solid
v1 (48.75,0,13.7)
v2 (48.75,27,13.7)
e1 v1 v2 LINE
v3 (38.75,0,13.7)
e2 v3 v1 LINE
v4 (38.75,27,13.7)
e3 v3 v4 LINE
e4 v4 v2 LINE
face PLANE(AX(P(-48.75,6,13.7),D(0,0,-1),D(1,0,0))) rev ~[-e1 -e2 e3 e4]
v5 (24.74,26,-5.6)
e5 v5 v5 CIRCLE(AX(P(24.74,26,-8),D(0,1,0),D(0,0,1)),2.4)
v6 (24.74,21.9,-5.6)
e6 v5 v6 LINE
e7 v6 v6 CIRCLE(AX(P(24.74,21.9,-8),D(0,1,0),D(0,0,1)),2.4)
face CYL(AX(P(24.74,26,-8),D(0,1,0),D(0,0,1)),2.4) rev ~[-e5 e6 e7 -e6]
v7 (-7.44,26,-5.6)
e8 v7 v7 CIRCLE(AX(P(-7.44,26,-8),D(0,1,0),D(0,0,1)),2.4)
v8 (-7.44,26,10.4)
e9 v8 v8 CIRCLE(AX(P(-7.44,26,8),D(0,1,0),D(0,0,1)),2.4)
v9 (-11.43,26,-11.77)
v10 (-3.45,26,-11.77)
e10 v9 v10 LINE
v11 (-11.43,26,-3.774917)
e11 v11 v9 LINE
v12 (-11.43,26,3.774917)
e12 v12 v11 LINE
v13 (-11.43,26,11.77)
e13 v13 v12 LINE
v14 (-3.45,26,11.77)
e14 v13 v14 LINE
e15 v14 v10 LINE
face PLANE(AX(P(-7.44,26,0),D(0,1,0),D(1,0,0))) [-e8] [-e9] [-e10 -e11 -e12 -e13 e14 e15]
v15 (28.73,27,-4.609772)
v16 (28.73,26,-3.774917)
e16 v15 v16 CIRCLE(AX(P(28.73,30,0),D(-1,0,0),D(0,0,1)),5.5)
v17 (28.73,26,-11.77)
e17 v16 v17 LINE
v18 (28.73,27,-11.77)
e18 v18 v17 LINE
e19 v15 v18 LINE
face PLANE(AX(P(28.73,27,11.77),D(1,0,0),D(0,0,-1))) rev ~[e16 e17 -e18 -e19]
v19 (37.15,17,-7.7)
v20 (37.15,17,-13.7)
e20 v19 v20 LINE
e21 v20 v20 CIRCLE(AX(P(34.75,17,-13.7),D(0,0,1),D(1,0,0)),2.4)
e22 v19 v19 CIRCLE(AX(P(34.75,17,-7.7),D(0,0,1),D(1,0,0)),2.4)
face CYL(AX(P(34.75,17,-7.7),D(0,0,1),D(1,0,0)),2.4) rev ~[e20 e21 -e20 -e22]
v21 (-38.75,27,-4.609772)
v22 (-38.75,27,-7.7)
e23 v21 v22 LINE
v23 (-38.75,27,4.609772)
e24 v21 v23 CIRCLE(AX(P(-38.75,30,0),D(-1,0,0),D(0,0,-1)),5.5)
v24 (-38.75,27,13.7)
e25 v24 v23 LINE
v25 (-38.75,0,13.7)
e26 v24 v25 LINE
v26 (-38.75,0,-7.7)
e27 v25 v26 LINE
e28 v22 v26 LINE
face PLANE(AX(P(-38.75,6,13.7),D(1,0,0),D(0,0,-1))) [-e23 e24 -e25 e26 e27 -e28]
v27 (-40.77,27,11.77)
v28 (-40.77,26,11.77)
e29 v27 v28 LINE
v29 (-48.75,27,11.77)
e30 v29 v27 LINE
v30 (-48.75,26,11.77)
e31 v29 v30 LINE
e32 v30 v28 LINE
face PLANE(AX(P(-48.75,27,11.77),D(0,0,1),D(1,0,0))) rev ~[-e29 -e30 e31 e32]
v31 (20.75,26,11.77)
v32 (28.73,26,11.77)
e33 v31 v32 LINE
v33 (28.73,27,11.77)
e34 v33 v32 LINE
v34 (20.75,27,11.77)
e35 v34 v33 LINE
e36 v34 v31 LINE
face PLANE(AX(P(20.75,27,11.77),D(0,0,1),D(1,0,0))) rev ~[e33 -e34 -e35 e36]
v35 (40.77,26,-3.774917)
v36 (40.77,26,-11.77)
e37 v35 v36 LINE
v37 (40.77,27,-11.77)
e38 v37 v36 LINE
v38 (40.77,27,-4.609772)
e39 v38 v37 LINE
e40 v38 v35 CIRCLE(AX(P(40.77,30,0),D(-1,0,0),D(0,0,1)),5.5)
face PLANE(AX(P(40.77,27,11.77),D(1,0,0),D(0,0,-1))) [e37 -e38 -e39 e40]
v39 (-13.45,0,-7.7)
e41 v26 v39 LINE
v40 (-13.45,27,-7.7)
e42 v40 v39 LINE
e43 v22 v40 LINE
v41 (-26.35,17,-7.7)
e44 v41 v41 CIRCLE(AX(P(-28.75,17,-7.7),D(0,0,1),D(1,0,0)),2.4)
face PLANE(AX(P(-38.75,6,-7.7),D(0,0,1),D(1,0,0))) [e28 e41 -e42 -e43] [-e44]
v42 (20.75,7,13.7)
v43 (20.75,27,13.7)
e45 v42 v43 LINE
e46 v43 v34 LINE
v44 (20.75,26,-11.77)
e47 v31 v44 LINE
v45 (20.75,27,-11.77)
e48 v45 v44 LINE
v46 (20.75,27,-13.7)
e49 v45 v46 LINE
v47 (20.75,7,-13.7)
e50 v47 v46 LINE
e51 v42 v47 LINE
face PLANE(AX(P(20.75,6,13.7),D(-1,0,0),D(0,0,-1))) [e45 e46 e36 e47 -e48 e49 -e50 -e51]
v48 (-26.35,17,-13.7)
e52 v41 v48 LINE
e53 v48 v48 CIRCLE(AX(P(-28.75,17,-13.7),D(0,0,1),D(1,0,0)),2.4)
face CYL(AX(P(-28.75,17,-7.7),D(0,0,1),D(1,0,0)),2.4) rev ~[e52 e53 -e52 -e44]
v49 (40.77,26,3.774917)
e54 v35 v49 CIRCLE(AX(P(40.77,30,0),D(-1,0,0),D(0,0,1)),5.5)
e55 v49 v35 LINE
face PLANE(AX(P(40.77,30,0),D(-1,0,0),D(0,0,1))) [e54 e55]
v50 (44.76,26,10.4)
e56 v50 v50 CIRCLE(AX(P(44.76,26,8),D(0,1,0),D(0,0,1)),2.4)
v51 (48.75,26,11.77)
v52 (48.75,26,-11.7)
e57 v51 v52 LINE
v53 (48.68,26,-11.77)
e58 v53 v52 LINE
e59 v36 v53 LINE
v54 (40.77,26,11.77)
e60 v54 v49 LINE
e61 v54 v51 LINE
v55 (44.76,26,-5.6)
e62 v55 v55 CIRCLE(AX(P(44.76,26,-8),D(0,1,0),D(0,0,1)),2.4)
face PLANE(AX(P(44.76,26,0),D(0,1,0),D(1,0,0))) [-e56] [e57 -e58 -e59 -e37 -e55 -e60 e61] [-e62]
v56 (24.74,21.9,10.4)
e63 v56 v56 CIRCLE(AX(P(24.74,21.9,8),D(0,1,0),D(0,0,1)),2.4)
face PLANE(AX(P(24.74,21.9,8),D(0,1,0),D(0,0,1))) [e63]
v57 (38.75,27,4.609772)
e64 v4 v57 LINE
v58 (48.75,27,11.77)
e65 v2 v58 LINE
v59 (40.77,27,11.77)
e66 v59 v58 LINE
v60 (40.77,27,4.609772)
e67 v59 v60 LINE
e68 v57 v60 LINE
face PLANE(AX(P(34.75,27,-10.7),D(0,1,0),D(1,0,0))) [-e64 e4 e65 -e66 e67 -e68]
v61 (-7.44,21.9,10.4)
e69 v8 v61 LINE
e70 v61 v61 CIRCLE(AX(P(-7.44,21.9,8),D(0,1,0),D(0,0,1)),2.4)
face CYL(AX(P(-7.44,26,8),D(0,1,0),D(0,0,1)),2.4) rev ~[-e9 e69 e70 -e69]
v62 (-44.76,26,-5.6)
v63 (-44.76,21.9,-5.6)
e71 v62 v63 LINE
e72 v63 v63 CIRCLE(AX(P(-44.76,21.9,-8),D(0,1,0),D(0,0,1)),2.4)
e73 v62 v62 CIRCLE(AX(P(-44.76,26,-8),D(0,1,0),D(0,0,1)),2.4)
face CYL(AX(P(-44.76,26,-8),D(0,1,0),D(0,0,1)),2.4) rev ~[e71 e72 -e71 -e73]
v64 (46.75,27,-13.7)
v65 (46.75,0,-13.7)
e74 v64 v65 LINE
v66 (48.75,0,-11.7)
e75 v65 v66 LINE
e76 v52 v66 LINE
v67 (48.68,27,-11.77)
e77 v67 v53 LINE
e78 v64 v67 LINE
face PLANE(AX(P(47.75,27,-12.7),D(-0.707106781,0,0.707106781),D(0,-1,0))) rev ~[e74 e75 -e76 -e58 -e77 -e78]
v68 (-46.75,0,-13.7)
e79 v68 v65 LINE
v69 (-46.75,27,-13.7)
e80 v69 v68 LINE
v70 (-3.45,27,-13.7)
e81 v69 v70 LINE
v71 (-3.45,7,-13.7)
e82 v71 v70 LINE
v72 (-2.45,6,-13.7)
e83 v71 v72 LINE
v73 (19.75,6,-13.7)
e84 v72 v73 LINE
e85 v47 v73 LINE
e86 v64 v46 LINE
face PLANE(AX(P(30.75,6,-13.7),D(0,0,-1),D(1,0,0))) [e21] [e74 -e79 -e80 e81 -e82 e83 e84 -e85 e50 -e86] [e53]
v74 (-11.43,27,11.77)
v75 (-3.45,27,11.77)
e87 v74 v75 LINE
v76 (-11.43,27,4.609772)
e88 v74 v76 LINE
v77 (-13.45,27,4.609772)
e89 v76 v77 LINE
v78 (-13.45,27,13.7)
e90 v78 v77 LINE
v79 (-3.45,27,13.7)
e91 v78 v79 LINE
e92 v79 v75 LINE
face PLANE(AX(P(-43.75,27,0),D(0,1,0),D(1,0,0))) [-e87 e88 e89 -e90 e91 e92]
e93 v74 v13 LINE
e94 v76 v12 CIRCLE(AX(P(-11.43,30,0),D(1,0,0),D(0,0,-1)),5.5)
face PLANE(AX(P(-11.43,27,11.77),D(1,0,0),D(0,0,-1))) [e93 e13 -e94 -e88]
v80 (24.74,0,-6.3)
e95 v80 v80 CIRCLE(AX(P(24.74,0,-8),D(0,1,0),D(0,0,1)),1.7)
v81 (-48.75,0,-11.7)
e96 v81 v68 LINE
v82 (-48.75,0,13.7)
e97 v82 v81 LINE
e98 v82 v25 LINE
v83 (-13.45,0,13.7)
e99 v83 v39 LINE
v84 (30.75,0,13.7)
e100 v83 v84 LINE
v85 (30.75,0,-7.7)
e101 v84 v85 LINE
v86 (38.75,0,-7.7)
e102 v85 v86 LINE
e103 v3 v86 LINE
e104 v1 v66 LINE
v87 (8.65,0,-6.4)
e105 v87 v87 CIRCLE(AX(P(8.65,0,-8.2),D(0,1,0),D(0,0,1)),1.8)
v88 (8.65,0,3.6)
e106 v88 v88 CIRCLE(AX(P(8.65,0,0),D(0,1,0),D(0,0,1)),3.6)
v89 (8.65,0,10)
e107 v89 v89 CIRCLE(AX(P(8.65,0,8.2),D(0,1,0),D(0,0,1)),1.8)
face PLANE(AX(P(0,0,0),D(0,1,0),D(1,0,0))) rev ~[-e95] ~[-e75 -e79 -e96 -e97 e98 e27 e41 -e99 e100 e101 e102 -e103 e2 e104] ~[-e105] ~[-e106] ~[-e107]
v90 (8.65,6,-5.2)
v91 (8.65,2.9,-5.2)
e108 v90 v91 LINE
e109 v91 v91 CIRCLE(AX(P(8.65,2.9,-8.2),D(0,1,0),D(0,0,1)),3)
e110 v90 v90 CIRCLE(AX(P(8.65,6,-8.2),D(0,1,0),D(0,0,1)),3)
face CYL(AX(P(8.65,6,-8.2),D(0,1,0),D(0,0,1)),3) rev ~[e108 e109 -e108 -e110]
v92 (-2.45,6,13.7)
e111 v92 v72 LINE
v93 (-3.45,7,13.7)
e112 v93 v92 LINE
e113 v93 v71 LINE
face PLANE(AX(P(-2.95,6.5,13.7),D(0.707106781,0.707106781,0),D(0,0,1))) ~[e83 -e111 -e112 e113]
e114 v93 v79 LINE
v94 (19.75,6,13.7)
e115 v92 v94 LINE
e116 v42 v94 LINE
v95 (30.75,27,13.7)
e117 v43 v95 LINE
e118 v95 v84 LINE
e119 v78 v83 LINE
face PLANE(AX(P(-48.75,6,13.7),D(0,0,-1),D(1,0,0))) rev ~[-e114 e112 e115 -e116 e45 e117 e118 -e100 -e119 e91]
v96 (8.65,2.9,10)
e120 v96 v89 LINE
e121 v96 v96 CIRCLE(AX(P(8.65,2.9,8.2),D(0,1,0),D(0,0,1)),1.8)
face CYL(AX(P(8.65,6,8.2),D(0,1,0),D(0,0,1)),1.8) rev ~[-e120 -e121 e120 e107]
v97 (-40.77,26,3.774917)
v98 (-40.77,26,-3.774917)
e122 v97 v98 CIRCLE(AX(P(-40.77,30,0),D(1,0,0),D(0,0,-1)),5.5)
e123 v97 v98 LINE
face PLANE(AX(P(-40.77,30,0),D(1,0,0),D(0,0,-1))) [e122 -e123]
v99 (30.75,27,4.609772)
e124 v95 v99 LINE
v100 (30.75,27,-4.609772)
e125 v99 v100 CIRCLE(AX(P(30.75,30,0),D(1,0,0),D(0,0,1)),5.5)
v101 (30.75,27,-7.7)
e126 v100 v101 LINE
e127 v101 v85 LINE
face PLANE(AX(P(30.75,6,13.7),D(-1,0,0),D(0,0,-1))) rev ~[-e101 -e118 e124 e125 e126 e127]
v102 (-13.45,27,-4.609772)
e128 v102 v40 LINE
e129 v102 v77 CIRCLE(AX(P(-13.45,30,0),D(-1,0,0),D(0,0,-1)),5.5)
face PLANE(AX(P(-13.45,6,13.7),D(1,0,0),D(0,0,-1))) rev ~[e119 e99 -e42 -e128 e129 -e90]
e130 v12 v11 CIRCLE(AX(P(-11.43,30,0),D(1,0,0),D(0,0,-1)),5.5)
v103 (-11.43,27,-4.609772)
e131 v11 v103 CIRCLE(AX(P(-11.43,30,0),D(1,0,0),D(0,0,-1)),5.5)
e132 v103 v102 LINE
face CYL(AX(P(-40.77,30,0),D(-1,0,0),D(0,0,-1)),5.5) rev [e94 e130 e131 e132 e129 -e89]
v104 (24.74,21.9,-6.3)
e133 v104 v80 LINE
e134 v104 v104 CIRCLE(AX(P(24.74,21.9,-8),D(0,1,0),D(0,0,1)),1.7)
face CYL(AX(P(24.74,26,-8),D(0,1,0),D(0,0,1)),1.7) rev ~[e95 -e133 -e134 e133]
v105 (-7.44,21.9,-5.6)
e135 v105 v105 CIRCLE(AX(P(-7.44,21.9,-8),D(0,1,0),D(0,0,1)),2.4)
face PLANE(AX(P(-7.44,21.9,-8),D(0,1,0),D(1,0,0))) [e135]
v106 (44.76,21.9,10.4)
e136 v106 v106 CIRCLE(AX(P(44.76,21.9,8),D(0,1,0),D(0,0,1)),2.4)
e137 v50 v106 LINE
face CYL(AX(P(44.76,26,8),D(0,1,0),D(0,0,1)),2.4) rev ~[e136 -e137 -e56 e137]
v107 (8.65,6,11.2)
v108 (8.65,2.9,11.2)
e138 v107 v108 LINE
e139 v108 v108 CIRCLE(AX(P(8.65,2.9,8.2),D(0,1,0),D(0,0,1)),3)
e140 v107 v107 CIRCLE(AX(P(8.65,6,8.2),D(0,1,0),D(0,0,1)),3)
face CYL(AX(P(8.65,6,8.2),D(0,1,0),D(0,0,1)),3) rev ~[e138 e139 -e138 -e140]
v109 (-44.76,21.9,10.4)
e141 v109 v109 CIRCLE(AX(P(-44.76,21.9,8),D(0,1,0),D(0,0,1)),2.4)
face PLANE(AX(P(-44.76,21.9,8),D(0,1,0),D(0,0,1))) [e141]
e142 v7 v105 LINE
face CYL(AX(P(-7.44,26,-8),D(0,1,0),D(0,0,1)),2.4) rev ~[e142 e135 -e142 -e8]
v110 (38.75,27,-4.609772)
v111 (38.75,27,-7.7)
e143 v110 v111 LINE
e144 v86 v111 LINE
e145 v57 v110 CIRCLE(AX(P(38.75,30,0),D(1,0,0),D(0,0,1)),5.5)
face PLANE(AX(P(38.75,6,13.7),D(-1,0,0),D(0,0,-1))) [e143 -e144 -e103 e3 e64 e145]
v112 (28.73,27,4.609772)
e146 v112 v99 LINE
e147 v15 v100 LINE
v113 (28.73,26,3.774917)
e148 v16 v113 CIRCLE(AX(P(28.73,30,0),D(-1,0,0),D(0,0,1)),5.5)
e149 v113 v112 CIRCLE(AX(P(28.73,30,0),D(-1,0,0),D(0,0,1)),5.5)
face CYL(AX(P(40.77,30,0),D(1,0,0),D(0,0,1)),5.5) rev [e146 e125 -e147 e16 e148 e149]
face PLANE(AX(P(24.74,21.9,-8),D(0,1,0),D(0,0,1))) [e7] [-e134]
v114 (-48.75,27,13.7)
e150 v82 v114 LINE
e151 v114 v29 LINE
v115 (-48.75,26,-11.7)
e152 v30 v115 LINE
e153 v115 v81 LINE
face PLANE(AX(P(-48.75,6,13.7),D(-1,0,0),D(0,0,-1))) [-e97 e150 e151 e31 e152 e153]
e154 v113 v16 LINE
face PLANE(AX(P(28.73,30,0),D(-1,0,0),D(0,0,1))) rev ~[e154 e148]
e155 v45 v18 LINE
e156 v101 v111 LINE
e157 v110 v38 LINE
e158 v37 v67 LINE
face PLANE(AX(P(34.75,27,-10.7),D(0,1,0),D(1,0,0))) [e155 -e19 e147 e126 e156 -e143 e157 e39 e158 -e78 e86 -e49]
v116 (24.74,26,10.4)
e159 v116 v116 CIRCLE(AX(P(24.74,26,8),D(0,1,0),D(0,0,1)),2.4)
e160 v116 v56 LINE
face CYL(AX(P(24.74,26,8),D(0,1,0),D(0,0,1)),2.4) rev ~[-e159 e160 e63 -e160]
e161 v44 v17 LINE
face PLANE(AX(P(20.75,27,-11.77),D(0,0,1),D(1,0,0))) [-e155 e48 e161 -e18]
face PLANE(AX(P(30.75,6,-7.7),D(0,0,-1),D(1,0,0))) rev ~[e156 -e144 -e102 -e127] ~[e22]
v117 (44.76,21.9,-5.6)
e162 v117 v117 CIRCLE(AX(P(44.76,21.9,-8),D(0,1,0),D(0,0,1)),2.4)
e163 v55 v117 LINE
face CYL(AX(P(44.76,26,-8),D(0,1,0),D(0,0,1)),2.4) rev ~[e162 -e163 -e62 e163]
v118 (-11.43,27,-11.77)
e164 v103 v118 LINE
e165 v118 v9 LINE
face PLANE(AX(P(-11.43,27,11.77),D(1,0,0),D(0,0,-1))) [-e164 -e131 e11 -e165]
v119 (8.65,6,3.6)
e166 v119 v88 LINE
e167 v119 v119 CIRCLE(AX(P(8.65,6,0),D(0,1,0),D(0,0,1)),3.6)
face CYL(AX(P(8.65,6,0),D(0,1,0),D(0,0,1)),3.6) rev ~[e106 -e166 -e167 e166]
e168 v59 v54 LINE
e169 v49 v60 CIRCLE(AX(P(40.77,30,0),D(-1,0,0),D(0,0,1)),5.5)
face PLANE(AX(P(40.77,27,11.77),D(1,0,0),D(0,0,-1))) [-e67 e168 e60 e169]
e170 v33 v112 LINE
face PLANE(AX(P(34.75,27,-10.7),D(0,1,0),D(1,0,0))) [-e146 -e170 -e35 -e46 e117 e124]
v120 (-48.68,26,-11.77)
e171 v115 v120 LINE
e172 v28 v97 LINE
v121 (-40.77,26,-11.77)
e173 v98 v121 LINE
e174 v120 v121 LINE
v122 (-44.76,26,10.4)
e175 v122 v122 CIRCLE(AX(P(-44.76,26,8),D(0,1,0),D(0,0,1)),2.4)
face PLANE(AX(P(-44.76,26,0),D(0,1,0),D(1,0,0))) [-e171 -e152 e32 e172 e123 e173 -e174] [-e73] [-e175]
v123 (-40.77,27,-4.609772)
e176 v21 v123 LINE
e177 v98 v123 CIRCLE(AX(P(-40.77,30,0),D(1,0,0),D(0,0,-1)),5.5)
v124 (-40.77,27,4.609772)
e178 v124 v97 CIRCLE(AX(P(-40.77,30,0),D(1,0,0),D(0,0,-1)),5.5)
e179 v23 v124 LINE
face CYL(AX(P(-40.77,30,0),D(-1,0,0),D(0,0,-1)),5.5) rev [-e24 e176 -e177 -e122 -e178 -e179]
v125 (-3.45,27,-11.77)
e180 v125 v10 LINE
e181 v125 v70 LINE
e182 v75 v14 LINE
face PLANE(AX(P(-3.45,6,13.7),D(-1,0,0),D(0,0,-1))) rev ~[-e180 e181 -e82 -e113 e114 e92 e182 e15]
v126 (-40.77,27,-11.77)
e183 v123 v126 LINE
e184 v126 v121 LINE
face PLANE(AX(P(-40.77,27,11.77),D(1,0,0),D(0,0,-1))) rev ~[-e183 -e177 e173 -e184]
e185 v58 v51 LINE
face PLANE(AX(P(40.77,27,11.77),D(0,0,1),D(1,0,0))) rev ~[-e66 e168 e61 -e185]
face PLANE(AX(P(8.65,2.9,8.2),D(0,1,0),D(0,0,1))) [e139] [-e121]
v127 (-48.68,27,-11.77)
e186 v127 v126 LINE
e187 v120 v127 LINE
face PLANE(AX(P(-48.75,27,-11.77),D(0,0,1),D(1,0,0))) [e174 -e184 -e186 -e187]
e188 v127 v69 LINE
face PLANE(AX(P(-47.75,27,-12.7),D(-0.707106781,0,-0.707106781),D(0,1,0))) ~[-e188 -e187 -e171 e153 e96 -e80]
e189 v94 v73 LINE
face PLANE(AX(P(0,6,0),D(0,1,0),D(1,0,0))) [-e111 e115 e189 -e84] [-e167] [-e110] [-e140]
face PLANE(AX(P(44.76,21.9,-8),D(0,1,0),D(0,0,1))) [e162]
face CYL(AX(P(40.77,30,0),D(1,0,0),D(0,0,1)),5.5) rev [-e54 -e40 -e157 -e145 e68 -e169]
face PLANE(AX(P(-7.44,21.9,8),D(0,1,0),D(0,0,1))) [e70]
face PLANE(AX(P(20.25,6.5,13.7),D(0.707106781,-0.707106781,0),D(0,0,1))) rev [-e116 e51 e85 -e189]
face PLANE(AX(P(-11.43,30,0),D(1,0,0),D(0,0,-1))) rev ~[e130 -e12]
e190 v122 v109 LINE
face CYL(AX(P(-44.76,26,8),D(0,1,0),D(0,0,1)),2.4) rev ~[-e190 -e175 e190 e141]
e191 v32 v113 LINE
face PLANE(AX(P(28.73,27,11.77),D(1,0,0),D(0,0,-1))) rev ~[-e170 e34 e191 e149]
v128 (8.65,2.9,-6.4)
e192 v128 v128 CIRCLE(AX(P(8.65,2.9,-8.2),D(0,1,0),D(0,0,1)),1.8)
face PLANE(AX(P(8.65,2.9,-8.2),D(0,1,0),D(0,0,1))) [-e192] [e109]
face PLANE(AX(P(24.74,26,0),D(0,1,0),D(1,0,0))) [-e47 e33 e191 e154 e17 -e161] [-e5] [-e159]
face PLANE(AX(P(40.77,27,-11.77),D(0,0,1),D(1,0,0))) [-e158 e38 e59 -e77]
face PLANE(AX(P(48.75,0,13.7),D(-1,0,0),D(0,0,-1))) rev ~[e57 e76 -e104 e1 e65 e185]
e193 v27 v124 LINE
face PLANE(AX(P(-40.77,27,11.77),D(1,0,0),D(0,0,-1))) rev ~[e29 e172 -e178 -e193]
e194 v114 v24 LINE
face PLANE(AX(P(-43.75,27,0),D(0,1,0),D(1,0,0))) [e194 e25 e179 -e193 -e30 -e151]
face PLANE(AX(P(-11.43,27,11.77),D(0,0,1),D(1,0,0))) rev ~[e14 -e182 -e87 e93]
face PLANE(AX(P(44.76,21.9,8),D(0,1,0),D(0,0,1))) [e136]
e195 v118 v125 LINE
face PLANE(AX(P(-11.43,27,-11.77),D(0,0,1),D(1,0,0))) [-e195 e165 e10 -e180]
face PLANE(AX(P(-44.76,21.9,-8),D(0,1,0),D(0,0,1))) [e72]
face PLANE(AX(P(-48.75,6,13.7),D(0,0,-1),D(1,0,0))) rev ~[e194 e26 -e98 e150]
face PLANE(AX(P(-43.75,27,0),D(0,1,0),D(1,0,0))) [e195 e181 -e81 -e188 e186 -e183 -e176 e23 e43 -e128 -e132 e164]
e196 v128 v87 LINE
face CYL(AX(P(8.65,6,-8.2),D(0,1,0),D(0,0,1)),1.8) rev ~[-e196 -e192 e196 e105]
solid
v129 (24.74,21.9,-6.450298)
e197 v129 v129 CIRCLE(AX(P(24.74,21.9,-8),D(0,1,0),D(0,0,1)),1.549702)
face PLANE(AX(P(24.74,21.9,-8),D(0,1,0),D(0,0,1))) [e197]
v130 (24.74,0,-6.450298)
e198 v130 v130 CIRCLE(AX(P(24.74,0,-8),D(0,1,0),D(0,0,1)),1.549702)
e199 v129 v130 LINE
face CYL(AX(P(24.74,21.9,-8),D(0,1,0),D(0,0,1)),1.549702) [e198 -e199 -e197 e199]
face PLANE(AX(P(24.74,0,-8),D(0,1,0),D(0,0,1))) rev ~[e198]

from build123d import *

# Parameters (mm, degrees)
SKETCH_2_W                = 97.5
SKETCH_2_H                = 27.4
EXTRUDE_1_DEPTH           = 6
SKETCH_3_W                = 10
SKETCH_3_H                = 27.4
EXTRUDE_2_DEPTH           = 21
SKETCH_5_W                = 7.98
SKETCH_5_H                = 23.54
CUT_EXTRUDE_1_DEPTH       = 1
SKETCH_7_R                = 1.7
CUT_EXTRUDE_2_DEPTH       = 57.923215826
SKETCH_8_R                = 3.6
SKETCH_8_R_2              = 1.8
CUT_EXTRUDE_3_DEPTH       = 55.820183327
CHAMFER_1_SIZE            = 2
SKETCH_13_W               = 8
SKETCH_13_H               = 6
SKETCH_13_W_2             = 25.3
EXTRUDE_3_DEPTH           = 21
SKETCH_14_R               = 2.4
CUT_EXTRUDE_9_DEPTH       = 10
SKETCH_15_W               = 25.3
SKETCH_15_H               = 21.4
SKETCH_15_W_2             = 8
CUT_EXTRUDE_10_DEPTH      = 10
SKETCH_16_R               = 3
CUT_EXTRUDE_11_DEPTH      = 3.1
SKETCH_17_R               = 2.4
CUT_EXTRUDE_12_DEPTH      = 4.1
CUT_EXTRUDE_13_DEPTH      = 10.02
CUT_EXTRUDE_13_DEPTH_BACK = 2.02
SKETCH_18_R               = 5.5
CUT_EXTRUDE_15_DEPTH      = 27.32
CUT_EXTRUDE_15_DEPTH_BACK = 2.02
SKETCH_20_R               = 5.5
CHAMFER_2_SIZE            = 1
SKETCH_21_R               = 1.7
SKETCH_21_R_2             = 1.549701769
EXTRUDE_4_DEPTH           = 21.9


with BuildPart() as part:
    # ｽｹｯﾁ2 → ﾎﾞｽ - 押し出し1 (new body)
    with BuildSketch(Plane(origin=(0, 0, 0), x_dir=(1, 0, 0), z_dir=(0, 1, 0))):
        Rectangle(SKETCH_2_W, SKETCH_2_H)
    extrude(amount=EXTRUDE_1_DEPTH)

    # ｽｹｯﾁ3 → ﾎﾞｽ - 押し出し2 (add)
    with BuildSketch(Plane(origin=(0, 6, 0), x_dir=(1, 0, 0), z_dir=(0, 1, 0))):
        with Locations((-43.75, 0)):
            Rectangle(SKETCH_3_W, SKETCH_3_H)
        with Locations((43.75, 0)):
            Rectangle(SKETCH_3_W, SKETCH_3_H)
        with Locations((-8.45, 0)):
            Rectangle(SKETCH_3_W, SKETCH_3_H)
        with Locations((25.75, 0)):
            Rectangle(SKETCH_3_W, SKETCH_3_H)
    extrude(amount=EXTRUDE_2_DEPTH)

    # ｽｹｯﾁ5 → ｶｯﾄ - 押し出し1 (cut)
    with BuildSketch(Plane(origin=(0, 27, 0), x_dir=(1, 0, 0), z_dir=(0, 1, 0))):
        with Locations((-44.76, 0)):
            Rectangle(SKETCH_5_W, SKETCH_5_H)
        with Locations((-7.44, 0)):
            Rectangle(SKETCH_5_W, SKETCH_5_H)
        with Locations((24.74, 0)):
            Rectangle(SKETCH_5_W, SKETCH_5_H)
        with Locations((44.76, 0)):
            Rectangle(SKETCH_5_W, SKETCH_5_H)
    extrude(amount=-CUT_EXTRUDE_1_DEPTH, mode=Mode.SUBTRACT)

    # ｽｹｯﾁ7 → ｶｯﾄ - 押し出し2 (cut, through all)
    with BuildSketch(Plane(origin=(0, 26, 0), x_dir=(1, 0, 0), z_dir=(0, 1, 0))):
        with Locations(Location((-44.76, 8, 0), (0, 0, 270))):
            Circle(SKETCH_7_R)
        with Locations(Location((-44.76, -8, 0), (0, 0, 270))):
            Circle(SKETCH_7_R)
        with Locations(Location((-7.44, 8, 0), (0, 0, 270))):
            Circle(SKETCH_7_R)
        with Locations(Location((-7.44, -8, 0), (0, 0, 270))):
            Circle(SKETCH_7_R)
        with Locations(Location((24.74, 8, 0), (0, 0, 270))):
            Circle(SKETCH_7_R)
        with Locations(Location((24.74, -8, 0), (0, 0, 270))):
            Circle(SKETCH_7_R)
        with Locations(Location((44.76, 8, 0), (0, 0, 270))):
            Circle(SKETCH_7_R)
        with Locations(Location((44.76, -8, 0), (0, 0, 270))):
            Circle(SKETCH_7_R)
    extrude(amount=-CUT_EXTRUDE_2_DEPTH, mode=Mode.SUBTRACT)

    # ｽｹｯﾁ8 → ｶｯﾄ - 押し出し3 (cut, through all)
    with BuildSketch(Plane(origin=(0, 6, 0), x_dir=(1, 0, 0), z_dir=(0, 1, 0))):
        with Locations(Location((8.65, 0, 0), (0, 0, 270))):
            Circle(SKETCH_8_R)
        with Locations(Location((8.65, 8.2, 0), (0, 0, 270))):
            Circle(SKETCH_8_R_2)
        with Locations(Location((8.65, -8.2, 0), (0, 0, 270))):
            Circle(SKETCH_8_R_2)
    extrude(amount=-CUT_EXTRUDE_3_DEPTH, mode=Mode.SUBTRACT)

    # 面取り1
    chamfer_1_edges = [part.edges().sort_by_distance(p)[0] for p in [
        (48.75, 13.5, -13.7),
        (-48.75, 13.5, -13.7),
    ]]
    chamfer(chamfer_1_edges, length=CHAMFER_1_SIZE)

    # ｽｹｯﾁ13 → ﾎﾞｽ - 押し出し3 (add)
    with BuildSketch(Plane(origin=(0, 6, 0), x_dir=(1, 0, 0), z_dir=(0, 1, 0))):
        with Locations((34.75, 10.7)):
            Rectangle(SKETCH_13_W, SKETCH_13_H)
        with Locations((-26.1, 10.7)):
            Rectangle(SKETCH_13_W_2, SKETCH_13_H)
    extrude(amount=EXTRUDE_3_DEPTH)

    # ｽｹｯﾁ14 → ｶｯﾄ - 押し出し9 (cut)
    with BuildSketch(Plane.XY.offset(-7.7)):
        with Locations((-28.75, 17)):
            Circle(SKETCH_14_R)
        with Locations((34.75, 17)):
            Circle(SKETCH_14_R)
    extrude(amount=-CUT_EXTRUDE_9_DEPTH, mode=Mode.SUBTRACT)

    # ｽｹｯﾁ15 → ｶｯﾄ - 押し出し10 (cut)
    with BuildSketch(Plane(origin=(0, 6, 0), x_dir=(1, 0, 0), z_dir=(0, 1, 0))):
        with Locations((-26.1, -3)):
            Rectangle(SKETCH_15_W, SKETCH_15_H)
        with Locations((34.75, -3)):
            Rectangle(SKETCH_15_W_2, SKETCH_15_H)
    extrude(amount=-CUT_EXTRUDE_10_DEPTH, mode=Mode.SUBTRACT)

    # ｽｹｯﾁ16 → ｶｯﾄ - 押し出し11 (cut)
    with BuildSketch(Plane(origin=(0, 6, 0), x_dir=(1, 0, 0), z_dir=(0, 1, 0))):
        with Locations(Location((8.65, 8.2, 0), (0, 0, 270))):
            Circle(SKETCH_16_R)
        with Locations(Location((8.65, -8.2, 0), (0, 0, 270))):
            Circle(SKETCH_16_R)
    extrude(amount=-CUT_EXTRUDE_11_DEPTH, mode=Mode.SUBTRACT)

    # ｽｹｯﾁ17 → ｶｯﾄ - 押し出し12 (cut)
    with BuildSketch(Plane(origin=(0, 26, 0), x_dir=(1, 0, 0), z_dir=(0, 1, 0))):
        with Locations(Location((-44.76, 8, 0), (0, 0, 270))):
            Circle(SKETCH_17_R)
        with Locations(Location((-44.76, -8, 0), (0, 0, 270))):
            Circle(SKETCH_17_R)
        with Locations(Location((-7.44, 8, 0), (0, 0, 270))):
            Circle(SKETCH_17_R)
        with Locations(Location((-7.44, -8, 0), (0, 0, 270))):
            Circle(SKETCH_17_R)
        with Locations(Location((24.74, 8, 0), (0, 0, 270))):
            Circle(SKETCH_17_R)
        with Locations(Location((24.74, -8, 0), (0, 0, 270))):
            Circle(SKETCH_17_R)
        with Locations(Location((44.76, 8, 0), (0, 0, 270))):
            Circle(SKETCH_17_R)
        with Locations(Location((44.76, -8, 0), (0, 0, 270))):
            Circle(SKETCH_17_R)
    extrude(amount=-CUT_EXTRUDE_12_DEPTH, mode=Mode.SUBTRACT)

    # ｽｹｯﾁ18 → ｶｯﾄ - 押し出し13 (cut, two sides: drawn at the far end of the back side and taken through both)
    with BuildSketch(Plane.ZY.offset(-38.75).offset(-CUT_EXTRUDE_13_DEPTH_BACK)):
        with Locations((0, 30)):
            Circle(SKETCH_18_R)
    extrude(amount=CUT_EXTRUDE_13_DEPTH + CUT_EXTRUDE_13_DEPTH_BACK, mode=Mode.SUBTRACT)

    # ｽｹｯﾁ20 → ｶｯﾄ - 押し出し15 (cut, two sides: drawn at the far end of the back side and taken through both)
    with BuildSketch(Plane(origin=(-38.75, 0, 0), x_dir=(0, 0, -1), z_dir=(1, 0, 0)).offset(-CUT_EXTRUDE_15_DEPTH_BACK)):
        with Locations((0, 30)):
            Circle(SKETCH_20_R)
    extrude(amount=CUT_EXTRUDE_15_DEPTH + CUT_EXTRUDE_15_DEPTH_BACK, mode=Mode.SUBTRACT)

    # 面取り2
    chamfer_2_edges = [part.edges().sort_by_distance(p)[0] for p in [
        (20.75, 6, 0),
        (-3.45, 6, 0),
    ]]
    chamfer(chamfer_2_edges, length=CHAMFER_2_SIZE)

    # ｽｹｯﾁ21 → ﾎﾞｽ - 押し出し4 (add)
    with BuildSketch(Plane(origin=(0, 21.9, 0), x_dir=(1, 0, 0), z_dir=(0, 1, 0))):
        with Locations((-7.44, 8)):
            Circle(SKETCH_21_R)
        with Locations((-44.76, 8)):
            Circle(SKETCH_21_R)
        with Locations(Location((24.74, 8, 0), (0, 0, 270))):
            Circle(SKETCH_21_R_2)
        with Locations((-44.76, -8)):
            Circle(SKETCH_21_R)
        with Locations((-7.44, -8)):
            Circle(SKETCH_21_R)
        with Locations((24.74, -8)):
            Circle(SKETCH_21_R)
        with Locations((44.76, 8)):
            Circle(SKETCH_21_R)
        with Locations((44.76, -8)):
            Circle(SKETCH_21_R)
    extrude(amount=-EXTRUDE_4_DEPTH)


with BuildPart() as extrude_4_piece_1:
    # of the separate pieces the step leaves, piece 1, a body of its own (extrude_4_pieces)
    add(part.part.solids().sort_by_distance((-3.45, 7, -13.7))[0])


with BuildPart() as extrude_4_piece_2:
    # of the separate pieces the step leaves, piece 2, a body of its own (extrude_4_pieces)
    add(part.part.solids().sort_by_distance((24.74, 21.9, -6.450298231))[0])


solid = Compound([extrude_4_piece_1.part, extrude_4_piece_2.part])
